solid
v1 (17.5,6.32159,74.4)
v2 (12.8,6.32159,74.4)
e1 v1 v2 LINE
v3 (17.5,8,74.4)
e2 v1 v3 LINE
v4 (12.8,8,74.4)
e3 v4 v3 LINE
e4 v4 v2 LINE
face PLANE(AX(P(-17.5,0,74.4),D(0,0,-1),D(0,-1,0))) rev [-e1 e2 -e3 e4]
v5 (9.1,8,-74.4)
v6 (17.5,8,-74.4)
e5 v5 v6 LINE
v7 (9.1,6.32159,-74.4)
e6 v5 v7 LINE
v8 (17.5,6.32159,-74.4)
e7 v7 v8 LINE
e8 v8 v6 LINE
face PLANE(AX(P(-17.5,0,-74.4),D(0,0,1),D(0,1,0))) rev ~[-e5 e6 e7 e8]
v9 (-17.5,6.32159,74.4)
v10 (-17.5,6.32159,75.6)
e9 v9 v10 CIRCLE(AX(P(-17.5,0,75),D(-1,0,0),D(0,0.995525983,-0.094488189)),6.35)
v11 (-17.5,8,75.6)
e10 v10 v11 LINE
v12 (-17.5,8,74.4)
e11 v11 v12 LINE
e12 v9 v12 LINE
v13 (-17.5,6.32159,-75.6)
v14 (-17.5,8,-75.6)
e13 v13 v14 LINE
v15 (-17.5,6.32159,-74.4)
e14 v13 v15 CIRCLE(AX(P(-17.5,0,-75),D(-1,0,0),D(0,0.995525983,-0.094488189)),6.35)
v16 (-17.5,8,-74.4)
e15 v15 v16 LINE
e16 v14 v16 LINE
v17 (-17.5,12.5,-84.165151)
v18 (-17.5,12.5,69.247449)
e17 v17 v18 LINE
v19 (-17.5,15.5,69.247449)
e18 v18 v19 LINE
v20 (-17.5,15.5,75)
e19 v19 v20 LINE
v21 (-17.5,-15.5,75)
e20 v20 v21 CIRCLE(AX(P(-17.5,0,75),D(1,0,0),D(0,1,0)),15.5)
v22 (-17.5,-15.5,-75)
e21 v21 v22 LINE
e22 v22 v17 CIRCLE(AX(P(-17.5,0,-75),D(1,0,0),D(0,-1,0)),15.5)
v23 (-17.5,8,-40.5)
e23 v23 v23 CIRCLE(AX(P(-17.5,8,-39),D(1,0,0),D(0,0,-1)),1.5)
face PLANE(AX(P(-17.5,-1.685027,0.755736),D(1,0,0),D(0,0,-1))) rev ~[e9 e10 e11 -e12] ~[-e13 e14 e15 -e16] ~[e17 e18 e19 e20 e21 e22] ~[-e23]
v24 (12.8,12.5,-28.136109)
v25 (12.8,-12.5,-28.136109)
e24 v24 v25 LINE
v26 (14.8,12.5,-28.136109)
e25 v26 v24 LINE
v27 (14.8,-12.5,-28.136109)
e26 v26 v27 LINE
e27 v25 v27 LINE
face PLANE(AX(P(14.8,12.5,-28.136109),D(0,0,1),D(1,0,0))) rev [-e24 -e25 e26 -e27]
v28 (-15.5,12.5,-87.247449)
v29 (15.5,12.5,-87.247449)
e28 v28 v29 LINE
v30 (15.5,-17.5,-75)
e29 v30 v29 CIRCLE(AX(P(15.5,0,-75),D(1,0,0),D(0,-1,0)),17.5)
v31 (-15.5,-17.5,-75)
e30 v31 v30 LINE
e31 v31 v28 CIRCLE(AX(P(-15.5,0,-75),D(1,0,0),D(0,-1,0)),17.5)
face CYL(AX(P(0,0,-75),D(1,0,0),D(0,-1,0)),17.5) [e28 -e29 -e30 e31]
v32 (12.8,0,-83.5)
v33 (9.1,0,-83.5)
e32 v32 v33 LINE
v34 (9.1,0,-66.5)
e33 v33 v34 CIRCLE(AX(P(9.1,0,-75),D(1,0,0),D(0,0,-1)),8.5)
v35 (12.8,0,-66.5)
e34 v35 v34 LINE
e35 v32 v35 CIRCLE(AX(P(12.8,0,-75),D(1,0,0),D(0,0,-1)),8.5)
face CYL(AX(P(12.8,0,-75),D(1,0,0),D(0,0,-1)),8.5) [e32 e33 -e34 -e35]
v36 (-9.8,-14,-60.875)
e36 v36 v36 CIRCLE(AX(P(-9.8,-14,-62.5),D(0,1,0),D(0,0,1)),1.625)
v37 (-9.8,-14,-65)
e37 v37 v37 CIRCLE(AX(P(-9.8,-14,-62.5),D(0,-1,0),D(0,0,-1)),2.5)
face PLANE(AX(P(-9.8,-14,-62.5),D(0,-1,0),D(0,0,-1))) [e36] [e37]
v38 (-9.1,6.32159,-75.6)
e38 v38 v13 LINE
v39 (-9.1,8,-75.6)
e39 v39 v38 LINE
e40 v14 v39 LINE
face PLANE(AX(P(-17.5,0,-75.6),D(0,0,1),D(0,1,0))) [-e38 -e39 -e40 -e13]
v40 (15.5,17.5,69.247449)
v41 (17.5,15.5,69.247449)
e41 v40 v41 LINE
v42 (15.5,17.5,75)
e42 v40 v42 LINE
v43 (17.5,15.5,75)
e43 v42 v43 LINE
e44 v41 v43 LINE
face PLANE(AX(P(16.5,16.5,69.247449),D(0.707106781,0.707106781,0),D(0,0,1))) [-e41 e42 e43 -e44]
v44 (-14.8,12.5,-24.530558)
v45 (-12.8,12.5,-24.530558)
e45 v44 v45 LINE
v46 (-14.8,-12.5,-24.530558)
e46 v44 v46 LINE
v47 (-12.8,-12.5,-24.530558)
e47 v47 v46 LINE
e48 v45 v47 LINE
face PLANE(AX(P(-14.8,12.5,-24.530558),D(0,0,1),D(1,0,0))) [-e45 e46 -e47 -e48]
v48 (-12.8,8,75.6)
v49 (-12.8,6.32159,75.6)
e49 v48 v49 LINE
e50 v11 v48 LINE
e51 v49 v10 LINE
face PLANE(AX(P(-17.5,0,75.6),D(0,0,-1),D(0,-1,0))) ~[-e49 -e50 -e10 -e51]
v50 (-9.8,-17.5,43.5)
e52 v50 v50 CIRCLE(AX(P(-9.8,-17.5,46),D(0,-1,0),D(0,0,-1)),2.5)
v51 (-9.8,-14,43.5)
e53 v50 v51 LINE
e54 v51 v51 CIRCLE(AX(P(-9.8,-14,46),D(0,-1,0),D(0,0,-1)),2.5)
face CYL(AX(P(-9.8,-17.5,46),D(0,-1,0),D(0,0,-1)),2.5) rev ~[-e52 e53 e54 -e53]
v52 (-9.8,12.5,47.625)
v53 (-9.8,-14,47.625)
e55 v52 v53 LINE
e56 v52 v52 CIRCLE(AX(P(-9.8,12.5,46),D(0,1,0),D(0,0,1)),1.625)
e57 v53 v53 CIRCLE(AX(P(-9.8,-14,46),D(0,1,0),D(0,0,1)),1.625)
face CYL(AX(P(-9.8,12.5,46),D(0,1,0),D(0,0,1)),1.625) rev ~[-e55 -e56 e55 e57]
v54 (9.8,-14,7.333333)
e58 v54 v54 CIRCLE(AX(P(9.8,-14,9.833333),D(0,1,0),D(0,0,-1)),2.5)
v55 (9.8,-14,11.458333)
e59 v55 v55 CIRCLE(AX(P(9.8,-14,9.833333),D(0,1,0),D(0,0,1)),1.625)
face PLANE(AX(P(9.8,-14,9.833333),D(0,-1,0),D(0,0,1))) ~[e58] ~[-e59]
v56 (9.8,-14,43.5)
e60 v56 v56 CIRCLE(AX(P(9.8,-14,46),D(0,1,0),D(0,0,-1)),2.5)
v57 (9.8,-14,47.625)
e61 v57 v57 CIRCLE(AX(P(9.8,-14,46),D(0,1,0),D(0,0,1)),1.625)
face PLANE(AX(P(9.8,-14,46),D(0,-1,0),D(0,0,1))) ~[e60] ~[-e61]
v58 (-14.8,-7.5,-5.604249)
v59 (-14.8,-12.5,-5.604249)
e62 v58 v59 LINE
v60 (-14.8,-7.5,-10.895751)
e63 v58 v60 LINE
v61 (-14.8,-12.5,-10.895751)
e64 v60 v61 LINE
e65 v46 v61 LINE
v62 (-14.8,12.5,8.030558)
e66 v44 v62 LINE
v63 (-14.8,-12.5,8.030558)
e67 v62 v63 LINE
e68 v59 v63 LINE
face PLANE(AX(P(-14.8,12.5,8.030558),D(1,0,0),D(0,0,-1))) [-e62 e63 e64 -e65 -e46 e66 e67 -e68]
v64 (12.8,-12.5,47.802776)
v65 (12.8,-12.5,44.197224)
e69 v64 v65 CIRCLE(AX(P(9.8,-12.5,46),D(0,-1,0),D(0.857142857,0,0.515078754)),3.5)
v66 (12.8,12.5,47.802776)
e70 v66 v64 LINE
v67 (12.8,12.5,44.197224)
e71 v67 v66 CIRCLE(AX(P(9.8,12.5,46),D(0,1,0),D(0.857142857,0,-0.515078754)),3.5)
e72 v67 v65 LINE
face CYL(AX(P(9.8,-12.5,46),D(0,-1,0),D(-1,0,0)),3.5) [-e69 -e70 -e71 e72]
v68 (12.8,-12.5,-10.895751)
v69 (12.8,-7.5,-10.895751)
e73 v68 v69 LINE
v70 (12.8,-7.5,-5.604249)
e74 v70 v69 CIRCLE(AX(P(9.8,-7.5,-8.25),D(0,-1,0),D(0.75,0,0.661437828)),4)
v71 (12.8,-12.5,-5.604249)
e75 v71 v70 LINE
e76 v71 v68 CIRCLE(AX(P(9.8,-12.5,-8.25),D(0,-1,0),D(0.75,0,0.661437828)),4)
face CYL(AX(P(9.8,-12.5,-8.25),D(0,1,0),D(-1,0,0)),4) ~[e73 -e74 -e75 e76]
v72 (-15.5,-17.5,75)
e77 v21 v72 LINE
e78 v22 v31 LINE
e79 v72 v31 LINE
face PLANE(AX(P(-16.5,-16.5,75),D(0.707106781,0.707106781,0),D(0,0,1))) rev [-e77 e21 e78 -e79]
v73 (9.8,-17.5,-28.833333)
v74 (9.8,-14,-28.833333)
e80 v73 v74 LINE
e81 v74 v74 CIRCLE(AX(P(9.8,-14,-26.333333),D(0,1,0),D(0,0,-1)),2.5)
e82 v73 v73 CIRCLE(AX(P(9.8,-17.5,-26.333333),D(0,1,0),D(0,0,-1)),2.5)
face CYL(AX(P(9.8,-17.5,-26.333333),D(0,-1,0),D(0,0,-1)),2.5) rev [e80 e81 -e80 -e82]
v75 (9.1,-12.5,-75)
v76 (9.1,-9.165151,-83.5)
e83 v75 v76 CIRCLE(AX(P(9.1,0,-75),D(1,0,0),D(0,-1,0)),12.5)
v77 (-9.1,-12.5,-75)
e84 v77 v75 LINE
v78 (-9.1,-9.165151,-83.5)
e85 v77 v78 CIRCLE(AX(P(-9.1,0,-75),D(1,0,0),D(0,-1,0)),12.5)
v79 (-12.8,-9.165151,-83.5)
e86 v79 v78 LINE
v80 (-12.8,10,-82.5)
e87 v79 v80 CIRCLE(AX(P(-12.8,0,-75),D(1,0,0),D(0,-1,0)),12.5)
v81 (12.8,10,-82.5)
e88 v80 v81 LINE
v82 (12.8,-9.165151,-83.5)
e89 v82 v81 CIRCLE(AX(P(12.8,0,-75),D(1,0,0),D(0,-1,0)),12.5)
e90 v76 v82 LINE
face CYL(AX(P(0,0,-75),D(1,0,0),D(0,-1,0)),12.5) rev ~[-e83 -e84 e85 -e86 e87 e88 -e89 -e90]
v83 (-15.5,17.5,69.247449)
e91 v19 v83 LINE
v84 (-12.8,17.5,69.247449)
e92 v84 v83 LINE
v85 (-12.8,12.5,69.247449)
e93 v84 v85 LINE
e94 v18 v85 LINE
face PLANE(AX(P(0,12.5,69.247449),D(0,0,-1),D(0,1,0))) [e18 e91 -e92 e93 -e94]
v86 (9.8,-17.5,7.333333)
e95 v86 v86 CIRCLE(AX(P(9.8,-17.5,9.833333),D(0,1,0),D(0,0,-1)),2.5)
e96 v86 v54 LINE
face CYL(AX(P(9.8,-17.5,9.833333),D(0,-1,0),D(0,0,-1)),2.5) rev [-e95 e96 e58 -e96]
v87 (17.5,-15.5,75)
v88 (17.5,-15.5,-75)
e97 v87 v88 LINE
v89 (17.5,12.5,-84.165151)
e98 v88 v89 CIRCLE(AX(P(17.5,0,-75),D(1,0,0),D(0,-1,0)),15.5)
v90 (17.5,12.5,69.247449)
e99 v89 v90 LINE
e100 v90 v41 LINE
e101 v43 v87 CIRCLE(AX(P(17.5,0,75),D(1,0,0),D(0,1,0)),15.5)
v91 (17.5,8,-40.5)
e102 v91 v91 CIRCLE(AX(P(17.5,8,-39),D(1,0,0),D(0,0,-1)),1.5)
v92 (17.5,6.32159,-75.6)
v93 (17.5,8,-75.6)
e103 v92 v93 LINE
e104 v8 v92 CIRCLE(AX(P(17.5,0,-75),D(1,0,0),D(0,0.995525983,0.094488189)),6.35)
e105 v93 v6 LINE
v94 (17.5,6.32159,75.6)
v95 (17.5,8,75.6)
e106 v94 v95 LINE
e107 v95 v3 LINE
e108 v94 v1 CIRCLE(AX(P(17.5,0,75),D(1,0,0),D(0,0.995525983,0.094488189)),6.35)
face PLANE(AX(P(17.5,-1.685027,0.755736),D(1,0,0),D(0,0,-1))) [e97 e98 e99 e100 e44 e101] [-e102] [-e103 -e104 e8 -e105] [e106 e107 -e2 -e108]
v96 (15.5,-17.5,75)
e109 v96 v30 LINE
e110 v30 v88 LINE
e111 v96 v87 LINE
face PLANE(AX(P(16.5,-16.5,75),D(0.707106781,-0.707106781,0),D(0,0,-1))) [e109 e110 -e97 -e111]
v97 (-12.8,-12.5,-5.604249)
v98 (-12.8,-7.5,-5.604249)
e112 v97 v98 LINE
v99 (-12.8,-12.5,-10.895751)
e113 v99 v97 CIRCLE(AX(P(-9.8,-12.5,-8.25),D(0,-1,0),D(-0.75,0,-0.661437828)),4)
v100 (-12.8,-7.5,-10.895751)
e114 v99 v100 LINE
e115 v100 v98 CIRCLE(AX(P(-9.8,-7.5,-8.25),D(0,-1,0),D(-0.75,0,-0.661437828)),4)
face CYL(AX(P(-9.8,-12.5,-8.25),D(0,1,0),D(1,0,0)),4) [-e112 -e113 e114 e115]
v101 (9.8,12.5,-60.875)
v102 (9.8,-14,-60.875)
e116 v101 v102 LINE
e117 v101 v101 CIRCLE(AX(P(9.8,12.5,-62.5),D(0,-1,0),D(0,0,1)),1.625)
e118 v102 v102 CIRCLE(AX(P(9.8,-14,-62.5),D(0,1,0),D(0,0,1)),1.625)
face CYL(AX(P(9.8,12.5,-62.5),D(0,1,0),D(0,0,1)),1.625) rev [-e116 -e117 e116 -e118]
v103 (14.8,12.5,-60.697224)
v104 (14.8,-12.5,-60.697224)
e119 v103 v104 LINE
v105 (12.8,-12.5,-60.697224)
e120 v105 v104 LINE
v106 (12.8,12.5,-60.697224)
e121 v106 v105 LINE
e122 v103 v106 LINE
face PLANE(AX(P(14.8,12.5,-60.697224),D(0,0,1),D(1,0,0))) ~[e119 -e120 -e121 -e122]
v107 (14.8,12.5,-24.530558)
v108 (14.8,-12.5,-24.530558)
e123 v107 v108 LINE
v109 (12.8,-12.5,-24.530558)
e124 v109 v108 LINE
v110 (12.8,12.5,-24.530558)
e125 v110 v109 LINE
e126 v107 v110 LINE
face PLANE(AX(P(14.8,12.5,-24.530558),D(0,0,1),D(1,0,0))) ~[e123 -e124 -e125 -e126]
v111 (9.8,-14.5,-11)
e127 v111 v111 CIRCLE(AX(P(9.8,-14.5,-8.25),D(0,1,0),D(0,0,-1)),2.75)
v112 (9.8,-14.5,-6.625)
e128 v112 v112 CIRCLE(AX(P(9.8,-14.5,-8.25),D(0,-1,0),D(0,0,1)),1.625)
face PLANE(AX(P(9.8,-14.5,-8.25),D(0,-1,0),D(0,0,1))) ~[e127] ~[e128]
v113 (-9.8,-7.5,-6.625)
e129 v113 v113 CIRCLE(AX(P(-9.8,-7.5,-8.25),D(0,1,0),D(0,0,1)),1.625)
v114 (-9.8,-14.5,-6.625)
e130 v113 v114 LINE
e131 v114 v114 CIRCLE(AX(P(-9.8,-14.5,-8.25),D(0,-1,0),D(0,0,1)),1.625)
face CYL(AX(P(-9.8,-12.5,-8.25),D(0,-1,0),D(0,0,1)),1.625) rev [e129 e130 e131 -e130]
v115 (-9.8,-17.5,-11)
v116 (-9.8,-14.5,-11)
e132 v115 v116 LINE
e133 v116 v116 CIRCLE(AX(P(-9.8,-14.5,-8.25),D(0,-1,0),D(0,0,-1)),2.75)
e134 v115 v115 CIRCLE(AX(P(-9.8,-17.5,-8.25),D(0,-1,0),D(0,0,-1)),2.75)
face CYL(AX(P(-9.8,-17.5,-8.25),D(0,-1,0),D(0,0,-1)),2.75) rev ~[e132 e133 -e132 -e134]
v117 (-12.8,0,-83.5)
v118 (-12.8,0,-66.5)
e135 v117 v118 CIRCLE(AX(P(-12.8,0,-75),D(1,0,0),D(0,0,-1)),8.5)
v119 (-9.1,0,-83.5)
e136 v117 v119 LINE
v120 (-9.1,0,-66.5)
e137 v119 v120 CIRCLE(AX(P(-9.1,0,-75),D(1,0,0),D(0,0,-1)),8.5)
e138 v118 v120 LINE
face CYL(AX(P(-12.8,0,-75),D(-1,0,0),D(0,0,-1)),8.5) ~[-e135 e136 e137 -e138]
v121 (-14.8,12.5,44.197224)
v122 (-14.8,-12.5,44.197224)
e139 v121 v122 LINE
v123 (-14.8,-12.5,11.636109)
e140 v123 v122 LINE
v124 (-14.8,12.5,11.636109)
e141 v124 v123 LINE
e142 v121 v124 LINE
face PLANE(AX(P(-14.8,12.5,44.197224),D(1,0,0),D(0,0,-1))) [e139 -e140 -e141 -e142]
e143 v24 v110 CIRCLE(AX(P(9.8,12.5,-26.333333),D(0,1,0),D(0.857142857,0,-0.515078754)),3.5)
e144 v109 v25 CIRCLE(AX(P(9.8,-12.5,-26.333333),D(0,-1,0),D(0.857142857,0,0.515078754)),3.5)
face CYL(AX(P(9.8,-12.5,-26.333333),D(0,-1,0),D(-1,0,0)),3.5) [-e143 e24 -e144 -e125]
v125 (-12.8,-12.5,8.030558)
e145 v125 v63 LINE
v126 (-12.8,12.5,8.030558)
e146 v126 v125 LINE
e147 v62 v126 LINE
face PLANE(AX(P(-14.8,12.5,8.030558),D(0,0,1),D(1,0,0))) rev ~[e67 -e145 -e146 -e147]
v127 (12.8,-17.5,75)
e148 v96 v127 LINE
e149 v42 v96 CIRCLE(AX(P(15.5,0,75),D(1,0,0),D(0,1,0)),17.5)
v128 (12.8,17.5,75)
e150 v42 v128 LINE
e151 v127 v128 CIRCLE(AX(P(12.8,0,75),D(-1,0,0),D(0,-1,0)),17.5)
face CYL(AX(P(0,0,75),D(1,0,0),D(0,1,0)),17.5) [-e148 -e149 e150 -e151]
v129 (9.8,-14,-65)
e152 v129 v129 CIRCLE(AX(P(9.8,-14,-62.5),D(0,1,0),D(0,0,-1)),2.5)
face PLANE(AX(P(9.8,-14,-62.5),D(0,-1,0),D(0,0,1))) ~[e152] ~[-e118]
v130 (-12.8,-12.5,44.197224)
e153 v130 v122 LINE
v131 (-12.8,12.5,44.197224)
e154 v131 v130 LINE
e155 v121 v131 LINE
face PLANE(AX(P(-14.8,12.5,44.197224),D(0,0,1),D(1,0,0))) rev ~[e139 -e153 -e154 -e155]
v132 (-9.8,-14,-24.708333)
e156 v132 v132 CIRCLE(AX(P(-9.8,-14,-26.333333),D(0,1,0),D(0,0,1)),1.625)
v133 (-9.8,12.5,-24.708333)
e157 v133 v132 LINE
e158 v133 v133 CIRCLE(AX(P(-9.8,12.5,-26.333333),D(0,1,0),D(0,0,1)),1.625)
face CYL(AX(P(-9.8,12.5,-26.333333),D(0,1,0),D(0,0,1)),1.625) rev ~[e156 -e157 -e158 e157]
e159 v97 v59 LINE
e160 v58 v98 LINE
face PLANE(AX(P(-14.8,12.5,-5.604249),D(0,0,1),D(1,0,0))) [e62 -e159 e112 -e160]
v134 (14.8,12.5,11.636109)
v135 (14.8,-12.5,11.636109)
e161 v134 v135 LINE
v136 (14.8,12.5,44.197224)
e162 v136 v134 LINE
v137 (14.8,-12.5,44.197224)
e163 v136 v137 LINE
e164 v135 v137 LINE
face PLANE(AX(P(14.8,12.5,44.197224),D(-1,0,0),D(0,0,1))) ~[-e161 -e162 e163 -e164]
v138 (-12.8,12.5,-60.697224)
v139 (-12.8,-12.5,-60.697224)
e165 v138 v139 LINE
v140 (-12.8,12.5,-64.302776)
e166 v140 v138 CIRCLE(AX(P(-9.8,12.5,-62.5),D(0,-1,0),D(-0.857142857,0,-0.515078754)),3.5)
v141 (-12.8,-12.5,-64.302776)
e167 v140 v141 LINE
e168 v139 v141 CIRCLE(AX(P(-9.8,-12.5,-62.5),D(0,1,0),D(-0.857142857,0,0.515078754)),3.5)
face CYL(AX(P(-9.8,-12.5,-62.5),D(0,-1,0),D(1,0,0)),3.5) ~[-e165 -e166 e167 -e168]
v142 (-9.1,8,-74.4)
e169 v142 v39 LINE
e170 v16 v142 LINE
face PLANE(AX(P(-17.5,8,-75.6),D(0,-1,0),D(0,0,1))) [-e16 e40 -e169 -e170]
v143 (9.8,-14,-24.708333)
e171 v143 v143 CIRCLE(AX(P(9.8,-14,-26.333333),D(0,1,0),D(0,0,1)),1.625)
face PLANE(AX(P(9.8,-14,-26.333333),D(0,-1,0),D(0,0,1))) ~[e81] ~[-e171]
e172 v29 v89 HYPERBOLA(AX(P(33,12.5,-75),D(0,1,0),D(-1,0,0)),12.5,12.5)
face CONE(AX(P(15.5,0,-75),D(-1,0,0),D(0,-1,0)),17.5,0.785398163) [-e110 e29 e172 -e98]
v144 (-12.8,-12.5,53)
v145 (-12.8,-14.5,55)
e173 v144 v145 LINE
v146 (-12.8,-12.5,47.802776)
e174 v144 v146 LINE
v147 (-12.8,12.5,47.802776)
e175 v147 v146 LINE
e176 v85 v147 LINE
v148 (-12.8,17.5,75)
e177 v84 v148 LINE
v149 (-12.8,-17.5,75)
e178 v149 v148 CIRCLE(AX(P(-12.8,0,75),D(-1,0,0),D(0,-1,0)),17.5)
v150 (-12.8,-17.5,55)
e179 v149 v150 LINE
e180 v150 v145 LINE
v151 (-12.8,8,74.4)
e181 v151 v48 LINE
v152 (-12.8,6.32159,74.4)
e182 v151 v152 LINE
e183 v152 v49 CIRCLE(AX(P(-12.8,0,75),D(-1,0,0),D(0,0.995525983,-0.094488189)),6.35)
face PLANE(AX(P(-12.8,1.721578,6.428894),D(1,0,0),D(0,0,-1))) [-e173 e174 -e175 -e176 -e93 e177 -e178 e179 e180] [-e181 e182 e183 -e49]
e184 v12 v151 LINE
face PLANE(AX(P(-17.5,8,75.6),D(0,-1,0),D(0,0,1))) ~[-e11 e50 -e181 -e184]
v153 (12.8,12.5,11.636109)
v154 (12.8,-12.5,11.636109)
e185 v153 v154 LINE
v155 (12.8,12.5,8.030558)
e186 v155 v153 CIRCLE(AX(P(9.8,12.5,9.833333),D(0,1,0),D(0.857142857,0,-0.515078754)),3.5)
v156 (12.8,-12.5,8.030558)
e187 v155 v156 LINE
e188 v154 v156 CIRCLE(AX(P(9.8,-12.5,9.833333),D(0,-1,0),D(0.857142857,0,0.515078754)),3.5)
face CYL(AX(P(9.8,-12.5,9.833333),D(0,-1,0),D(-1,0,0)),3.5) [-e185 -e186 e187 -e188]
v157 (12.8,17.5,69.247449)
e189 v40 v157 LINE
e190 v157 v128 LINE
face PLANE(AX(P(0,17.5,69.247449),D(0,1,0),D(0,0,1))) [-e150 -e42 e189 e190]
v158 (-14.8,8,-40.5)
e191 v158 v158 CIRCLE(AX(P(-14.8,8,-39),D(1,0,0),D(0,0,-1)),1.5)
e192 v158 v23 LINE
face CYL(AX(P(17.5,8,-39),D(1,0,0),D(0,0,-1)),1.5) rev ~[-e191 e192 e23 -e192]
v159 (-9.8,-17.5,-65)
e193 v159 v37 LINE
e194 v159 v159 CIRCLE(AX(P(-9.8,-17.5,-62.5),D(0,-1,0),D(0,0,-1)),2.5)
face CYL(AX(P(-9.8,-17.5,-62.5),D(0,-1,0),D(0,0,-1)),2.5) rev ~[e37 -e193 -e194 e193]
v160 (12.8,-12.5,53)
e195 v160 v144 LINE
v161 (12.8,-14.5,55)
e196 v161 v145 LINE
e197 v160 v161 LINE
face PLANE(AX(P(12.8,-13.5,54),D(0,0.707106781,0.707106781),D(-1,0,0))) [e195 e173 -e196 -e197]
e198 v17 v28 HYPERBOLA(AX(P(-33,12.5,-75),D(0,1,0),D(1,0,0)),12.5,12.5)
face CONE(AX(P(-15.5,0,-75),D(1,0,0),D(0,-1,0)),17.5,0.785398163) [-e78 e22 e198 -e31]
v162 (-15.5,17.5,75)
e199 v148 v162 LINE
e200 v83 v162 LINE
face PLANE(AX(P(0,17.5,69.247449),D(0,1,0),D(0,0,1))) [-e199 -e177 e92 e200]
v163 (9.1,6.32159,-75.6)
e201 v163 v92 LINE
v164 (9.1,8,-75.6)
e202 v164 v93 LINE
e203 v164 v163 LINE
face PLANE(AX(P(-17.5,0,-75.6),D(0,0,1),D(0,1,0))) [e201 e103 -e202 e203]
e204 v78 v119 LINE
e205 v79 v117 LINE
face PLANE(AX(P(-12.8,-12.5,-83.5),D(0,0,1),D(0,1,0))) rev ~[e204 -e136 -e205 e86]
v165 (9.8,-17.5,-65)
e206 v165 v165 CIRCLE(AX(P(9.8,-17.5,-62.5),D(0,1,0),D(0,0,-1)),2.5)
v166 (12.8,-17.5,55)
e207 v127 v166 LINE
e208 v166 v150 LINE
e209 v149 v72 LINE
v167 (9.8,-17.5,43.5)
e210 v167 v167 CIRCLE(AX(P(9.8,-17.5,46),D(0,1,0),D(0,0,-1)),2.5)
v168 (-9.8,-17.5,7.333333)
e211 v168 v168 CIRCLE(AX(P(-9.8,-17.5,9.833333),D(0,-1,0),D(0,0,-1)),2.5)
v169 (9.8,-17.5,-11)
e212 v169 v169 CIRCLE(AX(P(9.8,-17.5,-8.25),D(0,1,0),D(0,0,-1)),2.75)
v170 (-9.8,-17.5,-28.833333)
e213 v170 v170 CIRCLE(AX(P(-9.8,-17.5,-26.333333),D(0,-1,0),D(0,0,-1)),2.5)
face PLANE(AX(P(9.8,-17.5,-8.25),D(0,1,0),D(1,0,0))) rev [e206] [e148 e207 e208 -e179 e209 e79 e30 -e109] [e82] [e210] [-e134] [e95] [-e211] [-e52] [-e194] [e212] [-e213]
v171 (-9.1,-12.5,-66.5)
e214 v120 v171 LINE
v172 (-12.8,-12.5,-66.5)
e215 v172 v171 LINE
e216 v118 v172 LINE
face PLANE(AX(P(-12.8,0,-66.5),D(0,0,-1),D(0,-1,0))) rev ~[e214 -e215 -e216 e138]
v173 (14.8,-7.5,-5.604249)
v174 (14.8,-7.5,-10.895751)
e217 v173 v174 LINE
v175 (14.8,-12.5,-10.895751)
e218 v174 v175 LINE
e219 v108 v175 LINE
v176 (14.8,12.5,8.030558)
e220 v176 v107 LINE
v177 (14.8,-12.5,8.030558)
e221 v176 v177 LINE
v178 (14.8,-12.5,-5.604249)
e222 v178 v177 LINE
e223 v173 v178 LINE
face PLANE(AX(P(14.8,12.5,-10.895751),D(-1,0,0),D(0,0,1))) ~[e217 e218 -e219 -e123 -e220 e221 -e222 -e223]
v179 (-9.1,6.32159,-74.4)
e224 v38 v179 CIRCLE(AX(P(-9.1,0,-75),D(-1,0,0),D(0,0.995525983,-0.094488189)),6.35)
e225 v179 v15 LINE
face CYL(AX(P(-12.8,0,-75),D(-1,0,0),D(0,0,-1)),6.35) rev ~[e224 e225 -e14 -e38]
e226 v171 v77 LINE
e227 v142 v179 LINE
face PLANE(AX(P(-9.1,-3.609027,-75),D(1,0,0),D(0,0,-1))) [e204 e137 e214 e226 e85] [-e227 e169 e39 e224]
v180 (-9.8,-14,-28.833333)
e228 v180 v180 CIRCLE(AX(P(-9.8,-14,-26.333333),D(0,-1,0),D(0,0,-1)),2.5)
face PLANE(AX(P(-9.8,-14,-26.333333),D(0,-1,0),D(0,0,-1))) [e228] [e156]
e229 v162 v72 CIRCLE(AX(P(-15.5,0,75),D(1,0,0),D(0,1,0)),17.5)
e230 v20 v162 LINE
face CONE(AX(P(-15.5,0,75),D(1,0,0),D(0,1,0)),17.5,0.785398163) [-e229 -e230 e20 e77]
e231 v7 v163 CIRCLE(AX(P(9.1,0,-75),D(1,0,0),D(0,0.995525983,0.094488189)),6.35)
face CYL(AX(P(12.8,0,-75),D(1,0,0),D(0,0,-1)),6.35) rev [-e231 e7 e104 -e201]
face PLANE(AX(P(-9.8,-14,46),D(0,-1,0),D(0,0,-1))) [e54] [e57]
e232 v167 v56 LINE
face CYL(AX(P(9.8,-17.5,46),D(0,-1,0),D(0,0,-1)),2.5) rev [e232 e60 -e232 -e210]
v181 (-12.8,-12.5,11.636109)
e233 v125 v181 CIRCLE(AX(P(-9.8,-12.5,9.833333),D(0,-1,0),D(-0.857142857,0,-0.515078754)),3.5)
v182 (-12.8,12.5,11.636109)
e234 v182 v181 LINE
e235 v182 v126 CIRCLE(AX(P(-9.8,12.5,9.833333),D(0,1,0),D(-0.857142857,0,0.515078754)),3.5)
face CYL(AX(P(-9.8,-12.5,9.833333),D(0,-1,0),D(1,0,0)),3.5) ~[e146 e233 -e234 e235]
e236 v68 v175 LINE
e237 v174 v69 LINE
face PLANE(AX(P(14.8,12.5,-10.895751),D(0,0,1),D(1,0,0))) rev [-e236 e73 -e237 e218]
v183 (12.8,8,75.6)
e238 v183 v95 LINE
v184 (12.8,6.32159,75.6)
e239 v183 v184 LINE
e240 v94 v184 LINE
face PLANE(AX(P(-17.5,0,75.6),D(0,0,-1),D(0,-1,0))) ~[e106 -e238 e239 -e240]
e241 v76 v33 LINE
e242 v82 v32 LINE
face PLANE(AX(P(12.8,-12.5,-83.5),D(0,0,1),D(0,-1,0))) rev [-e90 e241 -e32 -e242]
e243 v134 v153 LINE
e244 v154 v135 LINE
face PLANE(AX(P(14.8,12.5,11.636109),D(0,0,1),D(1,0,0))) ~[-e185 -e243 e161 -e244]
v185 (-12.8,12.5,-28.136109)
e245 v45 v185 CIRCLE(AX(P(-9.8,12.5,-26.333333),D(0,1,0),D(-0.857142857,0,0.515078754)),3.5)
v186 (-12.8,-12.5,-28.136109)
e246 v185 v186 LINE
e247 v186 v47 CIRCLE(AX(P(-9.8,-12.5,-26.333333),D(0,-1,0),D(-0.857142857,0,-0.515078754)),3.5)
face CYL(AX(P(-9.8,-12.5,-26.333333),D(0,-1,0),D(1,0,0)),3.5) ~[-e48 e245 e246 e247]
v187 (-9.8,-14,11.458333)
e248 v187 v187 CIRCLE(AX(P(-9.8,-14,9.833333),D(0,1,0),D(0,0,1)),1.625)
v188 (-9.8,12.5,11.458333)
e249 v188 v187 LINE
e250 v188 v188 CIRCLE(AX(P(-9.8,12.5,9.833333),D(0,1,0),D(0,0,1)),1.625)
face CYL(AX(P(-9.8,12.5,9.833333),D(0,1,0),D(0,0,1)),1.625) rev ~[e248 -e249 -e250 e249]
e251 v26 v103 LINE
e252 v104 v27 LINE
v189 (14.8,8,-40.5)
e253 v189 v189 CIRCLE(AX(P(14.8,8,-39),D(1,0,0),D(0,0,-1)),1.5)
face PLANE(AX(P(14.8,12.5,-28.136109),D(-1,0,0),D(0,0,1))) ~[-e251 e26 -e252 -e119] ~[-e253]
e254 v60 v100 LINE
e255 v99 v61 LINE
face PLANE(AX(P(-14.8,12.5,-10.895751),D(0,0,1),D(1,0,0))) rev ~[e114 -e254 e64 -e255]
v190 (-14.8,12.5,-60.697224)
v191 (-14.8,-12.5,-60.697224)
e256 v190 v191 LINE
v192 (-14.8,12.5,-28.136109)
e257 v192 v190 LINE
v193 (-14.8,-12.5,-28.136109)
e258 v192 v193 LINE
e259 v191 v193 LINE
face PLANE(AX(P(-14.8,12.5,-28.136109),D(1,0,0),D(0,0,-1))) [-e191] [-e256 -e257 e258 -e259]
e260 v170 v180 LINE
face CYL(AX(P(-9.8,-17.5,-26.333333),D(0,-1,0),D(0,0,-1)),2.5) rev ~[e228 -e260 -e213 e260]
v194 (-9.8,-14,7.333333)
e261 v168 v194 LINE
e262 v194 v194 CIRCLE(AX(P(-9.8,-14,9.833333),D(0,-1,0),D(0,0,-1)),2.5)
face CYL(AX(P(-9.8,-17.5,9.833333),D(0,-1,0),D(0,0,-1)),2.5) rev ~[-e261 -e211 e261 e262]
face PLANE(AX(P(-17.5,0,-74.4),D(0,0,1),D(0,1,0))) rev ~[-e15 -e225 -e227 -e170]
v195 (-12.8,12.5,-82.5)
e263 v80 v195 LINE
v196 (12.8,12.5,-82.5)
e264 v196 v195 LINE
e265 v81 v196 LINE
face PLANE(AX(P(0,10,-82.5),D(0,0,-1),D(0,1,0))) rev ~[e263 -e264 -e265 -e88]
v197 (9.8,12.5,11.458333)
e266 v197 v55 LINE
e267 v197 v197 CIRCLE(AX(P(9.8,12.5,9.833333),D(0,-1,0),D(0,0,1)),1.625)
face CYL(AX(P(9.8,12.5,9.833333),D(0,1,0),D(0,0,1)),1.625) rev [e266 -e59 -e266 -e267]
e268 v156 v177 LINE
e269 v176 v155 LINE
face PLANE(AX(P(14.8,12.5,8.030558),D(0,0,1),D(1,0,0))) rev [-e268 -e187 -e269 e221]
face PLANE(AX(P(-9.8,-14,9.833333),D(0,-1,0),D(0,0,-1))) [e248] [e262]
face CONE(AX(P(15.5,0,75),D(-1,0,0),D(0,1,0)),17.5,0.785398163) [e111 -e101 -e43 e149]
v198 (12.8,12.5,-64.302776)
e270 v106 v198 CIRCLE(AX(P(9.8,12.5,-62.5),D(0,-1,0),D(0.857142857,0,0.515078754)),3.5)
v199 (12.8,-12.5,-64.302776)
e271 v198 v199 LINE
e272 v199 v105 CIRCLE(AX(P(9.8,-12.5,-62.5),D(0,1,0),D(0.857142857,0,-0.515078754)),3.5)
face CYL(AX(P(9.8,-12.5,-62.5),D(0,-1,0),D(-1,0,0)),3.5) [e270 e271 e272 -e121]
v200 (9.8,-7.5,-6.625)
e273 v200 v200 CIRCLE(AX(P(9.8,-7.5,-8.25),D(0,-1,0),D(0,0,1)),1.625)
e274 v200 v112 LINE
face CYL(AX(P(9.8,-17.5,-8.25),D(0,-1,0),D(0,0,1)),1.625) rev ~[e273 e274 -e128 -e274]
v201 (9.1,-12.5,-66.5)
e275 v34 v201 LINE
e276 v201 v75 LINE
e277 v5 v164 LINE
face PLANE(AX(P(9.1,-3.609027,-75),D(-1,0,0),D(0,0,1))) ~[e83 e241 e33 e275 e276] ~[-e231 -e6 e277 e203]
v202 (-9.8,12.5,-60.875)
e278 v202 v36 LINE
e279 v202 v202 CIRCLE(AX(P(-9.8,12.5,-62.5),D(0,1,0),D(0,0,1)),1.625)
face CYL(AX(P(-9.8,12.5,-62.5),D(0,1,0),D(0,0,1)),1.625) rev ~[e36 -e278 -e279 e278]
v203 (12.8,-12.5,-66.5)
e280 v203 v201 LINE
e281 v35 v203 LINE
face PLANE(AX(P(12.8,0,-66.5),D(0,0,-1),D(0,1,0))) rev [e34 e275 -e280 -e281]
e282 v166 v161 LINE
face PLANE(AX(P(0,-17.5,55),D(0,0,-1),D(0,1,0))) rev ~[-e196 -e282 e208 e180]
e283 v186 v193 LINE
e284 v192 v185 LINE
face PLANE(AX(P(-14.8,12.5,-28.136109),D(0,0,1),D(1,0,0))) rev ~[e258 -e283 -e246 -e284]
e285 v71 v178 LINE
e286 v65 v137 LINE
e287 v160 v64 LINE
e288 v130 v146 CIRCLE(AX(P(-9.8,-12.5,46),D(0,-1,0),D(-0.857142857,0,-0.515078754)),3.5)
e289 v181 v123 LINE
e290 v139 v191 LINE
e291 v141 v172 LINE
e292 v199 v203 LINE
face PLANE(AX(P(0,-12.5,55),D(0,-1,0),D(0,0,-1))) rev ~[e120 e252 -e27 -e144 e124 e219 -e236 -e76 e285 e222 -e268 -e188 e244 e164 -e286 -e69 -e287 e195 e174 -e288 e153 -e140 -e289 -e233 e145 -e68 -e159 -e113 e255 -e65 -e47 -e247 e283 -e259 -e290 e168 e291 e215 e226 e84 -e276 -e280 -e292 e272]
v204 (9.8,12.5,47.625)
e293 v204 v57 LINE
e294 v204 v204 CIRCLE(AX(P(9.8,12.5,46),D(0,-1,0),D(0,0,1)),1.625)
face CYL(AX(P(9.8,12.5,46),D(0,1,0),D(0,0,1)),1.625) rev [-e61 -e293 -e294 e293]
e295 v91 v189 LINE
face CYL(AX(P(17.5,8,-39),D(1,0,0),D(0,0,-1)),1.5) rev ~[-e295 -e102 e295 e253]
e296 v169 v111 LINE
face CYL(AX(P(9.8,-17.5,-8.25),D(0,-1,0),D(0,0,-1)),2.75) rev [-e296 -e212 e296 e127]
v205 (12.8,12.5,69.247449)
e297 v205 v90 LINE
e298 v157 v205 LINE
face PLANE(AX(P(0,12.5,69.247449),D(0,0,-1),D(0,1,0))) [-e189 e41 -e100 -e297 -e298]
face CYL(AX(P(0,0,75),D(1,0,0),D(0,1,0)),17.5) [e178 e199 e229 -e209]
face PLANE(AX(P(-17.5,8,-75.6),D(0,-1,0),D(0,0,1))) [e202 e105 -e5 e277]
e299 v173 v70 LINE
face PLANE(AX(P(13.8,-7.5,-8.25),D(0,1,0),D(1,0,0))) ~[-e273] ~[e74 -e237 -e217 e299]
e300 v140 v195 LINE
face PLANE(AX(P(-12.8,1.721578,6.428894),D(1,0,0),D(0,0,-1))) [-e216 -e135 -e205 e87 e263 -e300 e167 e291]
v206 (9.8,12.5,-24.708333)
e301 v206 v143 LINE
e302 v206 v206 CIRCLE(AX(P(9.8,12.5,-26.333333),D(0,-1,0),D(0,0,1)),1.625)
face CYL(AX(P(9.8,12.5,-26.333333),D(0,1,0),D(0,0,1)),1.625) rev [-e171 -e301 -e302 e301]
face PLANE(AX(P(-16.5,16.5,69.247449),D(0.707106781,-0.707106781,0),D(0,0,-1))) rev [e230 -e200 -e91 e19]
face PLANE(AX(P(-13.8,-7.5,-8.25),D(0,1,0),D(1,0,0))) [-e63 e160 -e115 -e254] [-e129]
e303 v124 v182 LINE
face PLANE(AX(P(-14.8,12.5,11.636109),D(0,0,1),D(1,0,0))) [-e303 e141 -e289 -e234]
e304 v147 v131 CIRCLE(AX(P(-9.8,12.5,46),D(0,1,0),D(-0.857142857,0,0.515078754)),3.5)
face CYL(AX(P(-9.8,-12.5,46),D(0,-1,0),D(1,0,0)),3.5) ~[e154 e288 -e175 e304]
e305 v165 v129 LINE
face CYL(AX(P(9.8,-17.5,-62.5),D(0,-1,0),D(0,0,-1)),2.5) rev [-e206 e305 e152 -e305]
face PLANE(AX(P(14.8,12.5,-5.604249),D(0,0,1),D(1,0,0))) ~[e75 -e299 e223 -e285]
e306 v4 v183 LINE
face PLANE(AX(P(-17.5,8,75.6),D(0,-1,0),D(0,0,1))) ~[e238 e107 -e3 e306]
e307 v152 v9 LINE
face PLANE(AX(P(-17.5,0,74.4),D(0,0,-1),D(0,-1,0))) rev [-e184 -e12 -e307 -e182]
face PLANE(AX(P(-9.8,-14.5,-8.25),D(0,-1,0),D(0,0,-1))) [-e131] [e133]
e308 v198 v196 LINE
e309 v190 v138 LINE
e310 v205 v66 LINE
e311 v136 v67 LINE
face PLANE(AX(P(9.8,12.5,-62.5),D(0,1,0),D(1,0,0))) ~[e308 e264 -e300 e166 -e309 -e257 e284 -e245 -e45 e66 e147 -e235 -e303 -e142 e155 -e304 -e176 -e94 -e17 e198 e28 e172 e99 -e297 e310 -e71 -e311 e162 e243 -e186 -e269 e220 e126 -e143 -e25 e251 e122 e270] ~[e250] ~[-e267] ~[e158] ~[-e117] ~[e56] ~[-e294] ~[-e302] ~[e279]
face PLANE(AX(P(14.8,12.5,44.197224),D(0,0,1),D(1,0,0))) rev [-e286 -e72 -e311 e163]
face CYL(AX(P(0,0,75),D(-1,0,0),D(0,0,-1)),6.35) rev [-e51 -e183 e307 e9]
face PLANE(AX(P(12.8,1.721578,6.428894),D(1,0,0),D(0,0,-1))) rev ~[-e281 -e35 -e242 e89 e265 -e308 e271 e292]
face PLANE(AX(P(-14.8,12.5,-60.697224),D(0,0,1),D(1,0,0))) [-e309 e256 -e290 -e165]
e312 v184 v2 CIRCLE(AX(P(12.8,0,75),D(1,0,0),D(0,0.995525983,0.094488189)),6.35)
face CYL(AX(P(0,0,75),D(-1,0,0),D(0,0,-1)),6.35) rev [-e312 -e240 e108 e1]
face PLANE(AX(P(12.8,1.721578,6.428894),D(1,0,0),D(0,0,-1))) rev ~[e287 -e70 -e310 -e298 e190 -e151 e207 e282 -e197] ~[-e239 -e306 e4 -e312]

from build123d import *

# Parameters (mm, degrees)
SKETCH1_R           = 6.35
BOSS_EXTRUDE1_DEPTH = 17.5
CUT_EXTRUDE1_DEPTH  = 12.8
CHAMFER1_SIZE       = 2
SKETCH4_R           = 3.5
BOSS_EXTRUDE2_DEPTH = 25
SKETCH8_R           = 1.625
CUT_EXTRUDE4_DEPTH  = 30
SKETCH7_R           = 2.5
CUT_EXTRUDE3_DEPTH  = 3.5
SKETCH9_R           = 4
SKETCH9_R_2         = 1.625
BOSS_EXTRUDE3_DEPTH = 5
SKETCH11_R          = 2.75
CUT_EXTRUDE5_DEPTH  = 3
SKETCH12_R          = 1.625
CUT_EXTRUDE6_DEPTH  = 101.436547133
BOSS_EXTRUDE4_DEPTH = 3.7
SKETCH14_R          = 6.35
CUT_EXTRUDE7_DEPTH  = 3.7
CUT_EXTRUDE8_REACH  = 100.805
SKETCH15_W          = 2
SKETCH15_H          = 32.561115391
SKETCH15_H_2        = 13.634806385
SKETCH16_W          = 2
SKETCH16_H          = 5.291502622
CUT_EXTRUDE9_DEPTH  = 20
CUT_EXTRUDE10_REACH = 102.437
SKETCH17_R          = 1.5
CUT_EXTRUDE11_REACH = 102.437
SKETCH18_W          = 1.2
SKETCH18_H          = 8


with BuildPart() as part:
    # Sketch1 → Boss-Extrude1 (new, symmetric)
    with BuildSketch(Plane(origin=(0, 0, 0), x_dir=(0, 0, -1), z_dir=(1, 0, 0))):
        with BuildLine():
            Line((-75, -17.5), (75, -17.5))
            ThreePointArc((75, -17.5), (91.201851746, -6.614378278), (87.247448714, 12.5))
            Line((87.247448714, 12.5), (-69.247448714, 12.5))
            Line((-69.247448714, 12.5), (-69.247448714, 17.5))
            Line((-69.247448714, 17.5), (-75, 17.5))
            ThreePointArc((-75, 17.5), (-92.5, 0), (-75, -17.5))
        make_face()
        with Locations((-75, 0)):
            Circle(SKETCH1_R, mode=Mode.SUBTRACT)
        with Locations((75, 0)):
            Circle(SKETCH1_R, mode=Mode.SUBTRACT)
    extrude(amount=BOSS_EXTRUDE1_DEPTH, both=True)

    # Sketch3 → Cut-Extrude1 (cut, symmetric)
    with BuildSketch(Plane(origin=(0, 0, 0), x_dir=(0, 0, -1), z_dir=(1, 0, 0))):
        with BuildLine():
            Line((-55, -12.5), (75, -12.5))
            ThreePointArc((75, -12.5), (86.858541226, -3.952847075), (82.5, 10))
            Line((82.5, 10), (82.5, 17.5))
            Line((82.5, 17.5), (-92.5, 17.5))
            Line((-92.5, 17.5), (-92.5, -17.5))
            Line((-92.5, -17.5), (-55, -17.5))
            Line((-55, -17.5), (-55, -12.5))
        make_face()
    extrude(amount=CUT_EXTRUDE1_DEPTH, both=True, mode=Mode.SUBTRACT)

    # Chamfer1
    chamfer1_edges = [part.edges().sort_by_distance(p)[0] for p in [
        (17.5, -6.614378278, -91.201851746),
        (17.5, 17.5, 72.123724357),
        (0, -12.5, 55),
        (17.5, 0, 92.5),
        (-17.5, 17.5, 72.123724357),
        (-17.5, -6.614378278, -91.201851746),
        (-17.5, -17.5, 0),
        (-17.5, 0, 92.5),
        (17.5, -17.5, 0),
    ]]
    chamfer(chamfer1_edges, length=CHAMFER1_SIZE)

    # Sketch4 → Boss-Extrude2 (add)
    with BuildSketch(Plane(origin=(0, -12.5, 0), x_dir=(1, 0, 0), z_dir=(0, 1, 0))):
        with Locations((-9.8, 62.5)):
            Circle(SKETCH4_R)
        with Locations((-9.8, 26.333333333)):
            Circle(SKETCH4_R)
        with Locations((-9.8, -9.833333333)):
            Circle(SKETCH4_R)
        with Locations((-9.8, -46)):
            Circle(SKETCH4_R)
    boss_extrude2 = extrude(amount=BOSS_EXTRUDE2_DEPTH)

    # Sketch8 → Cut-Extrude4 (cut)
    with BuildSketch(Plane(origin=(0, 12.5, 0), x_dir=(1, 0, 0), z_dir=(0, 1, 0))):
        with Locations(Location((-9.8, 62.5, 0), (0, 0, 270))):
            Circle(SKETCH8_R)
        with Locations(Location((-9.8, 26.333333333, 0), (0, 0, 270))):
            Circle(SKETCH8_R)
        with Locations(Location((-9.8, -9.833333333, 0), (0, 0, 270))):
            Circle(SKETCH8_R)
        with Locations(Location((-9.8, -46, 0), (0, 0, 270))):
            Circle(SKETCH8_R)
    cut_extrude4 = extrude(amount=-CUT_EXTRUDE4_DEPTH, mode=Mode.SUBTRACT)

    # Sketch7 → Cut-Extrude3 (cut)
    with BuildSketch(Plane.XZ.offset(17.5)):
        with Locations(Location((-9.8, 46, 0), (0, 0, 270))):
            Circle(SKETCH7_R)
        with Locations(Location((-9.8, 9.833333333, 0), (0, 0, 270))):
            Circle(SKETCH7_R)
        with Locations(Location((-9.8, -26.333333333, 0), (0, 0, 270))):
            Circle(SKETCH7_R)
        with Locations(Location((-9.8, -62.5, 0), (0, 0, 270))):
            Circle(SKETCH7_R)
    cut_extrude3 = extrude(amount=-CUT_EXTRUDE3_DEPTH, mode=Mode.SUBTRACT)

    # Sketch9 → Boss-Extrude3 (add, symmetric)
    with BuildSketch(Plane(origin=(0, -12.5, 0), x_dir=(1, 0, 0), z_dir=(0, 1, 0))):
        with Locations((-9.8, 8.25)):
            Circle(SKETCH9_R)
        with Locations(Location((-9.8, 8.25, 0), (0, 0, 270))):
            Circle(SKETCH9_R_2, mode=Mode.SUBTRACT)
    boss_extrude3 = extrude(amount=BOSS_EXTRUDE3_DEPTH, both=True)

    # Sketch11 → Cut-Extrude5 (cut)
    with BuildSketch(Plane.XZ.offset(17.5)):
        with Locations(Location((-9.8, -8.25, 0), (0, 0, 270))):
            Circle(SKETCH11_R)
    cut_extrude5 = extrude(amount=-CUT_EXTRUDE5_DEPTH, mode=Mode.SUBTRACT)

    # Mirror1: Boss-Extrude2, Cut-Extrude4, Cut-Extrude3, Boss-Extrude3, Cut-Extrude5 across plane
    add(boss_extrude2.mirror(Plane(origin=(0, 0, 0), x_dir=(0, 0, 1), z_dir=(1, 0, 0))))
    add(cut_extrude4.mirror(Plane(origin=(0, 0, 0), x_dir=(0, 0, 1), z_dir=(1, 0, 0))), mode=Mode.SUBTRACT)
    add(cut_extrude3.mirror(Plane(origin=(0, 0, 0), x_dir=(0, 0, 1), z_dir=(1, 0, 0))), mode=Mode.SUBTRACT)
    add(boss_extrude3.mirror(Plane(origin=(0, 0, 0), x_dir=(0, 0, 1), z_dir=(1, 0, 0))))
    add(cut_extrude5.mirror(Plane(origin=(0, 0, 0), x_dir=(0, 0, 1), z_dir=(1, 0, 0))), mode=Mode.SUBTRACT)

    # Sketch12 → Cut-Extrude6 (cut, symmetric)
    with BuildSketch(Plane.XZ.offset(17.5)):
        with Locations(Location((9.8, -8.25, 0), (0, 0, 90))):
            Circle(SKETCH12_R)
    cut_extrude6 = extrude(amount=CUT_EXTRUDE6_DEPTH, both=True, mode=Mode.SUBTRACT)

    # Sketch13 → Boss-Extrude4 (add)
    with BuildSketch(Plane(origin=(-12.8, 0, 0), x_dir=(0, 0, -1), z_dir=(1, 0, 0))):
        with BuildLine():
            Line((66.5, 0), (66.5, -12.5))
            Line((66.5, -12.5), (83.5, -12.5))
            Line((83.5, -12.5), (83.5, 0))
            ThreePointArc((83.5, 0), (75, 8.5), (66.5, 0))
        make_face()
    boss_extrude4 = extrude(amount=BOSS_EXTRUDE4_DEPTH)

    # Sketch14 → Cut-Extrude7 (cut)
    with BuildSketch(Plane.ZY.offset(12.8)):
        with Locations(Location((-75, 0, 0), (0, 0, 180))):
            Circle(SKETCH14_R)
    cut_extrude7 = extrude(amount=-CUT_EXTRUDE7_DEPTH, mode=Mode.SUBTRACT)

    # Cut-Extrude8: up to this face of the body (flat: up to its plane)
    cut_extrude8_end = Plane(part.part.faces().sort_by_distance((0.120666671, -12.5, -10.718703908))[0])
    # Sketch15 → Cut-Extrude8 (cut, up to the picked face)
    with BuildSketch(Plane(origin=(0, 12.5, 0), x_dir=(1, 0, 0), z_dir=(0, 1, 0)), mode=Mode.PRIVATE) as cut_extrude8_sk1:
        with Locations((-13.8, 44.416666667)):
            Rectangle(SKETCH15_W, SKETCH15_H)
    cut_extrude8_tool1 = split(extrude(cut_extrude8_sk1.sketch, amount=-CUT_EXTRUDE8_REACH, mode=Mode.PRIVATE), bisect_by=cut_extrude8_end, keep=Keep.BOTH, mode=Mode.PRIVATE)
    # Sketch15 → Cut-Extrude8 (cut, up to the picked face)
    with BuildSketch(Plane(origin=(0, 12.5, 0), x_dir=(1, 0, 0), z_dir=(0, 1, 0)), mode=Mode.PRIVATE) as cut_extrude8_sk2:
        with Locations((-13.8, 17.713154504)):
            Rectangle(SKETCH15_W, SKETCH15_H_2)
    cut_extrude8_tool2 = split(extrude(cut_extrude8_sk2.sketch, amount=-CUT_EXTRUDE8_REACH, mode=Mode.PRIVATE), bisect_by=cut_extrude8_end, keep=Keep.BOTH, mode=Mode.PRIVATE)
    # Sketch15 → Cut-Extrude8 (cut, up to the picked face)
    with BuildSketch(Plane(origin=(0, 12.5, 0), x_dir=(1, 0, 0), z_dir=(0, 1, 0)), mode=Mode.PRIVATE) as cut_extrude8_sk3:
        with Locations((-13.8, -1.213154504)):
            Rectangle(SKETCH15_W, SKETCH15_H_2)
    cut_extrude8_tool3 = split(extrude(cut_extrude8_sk3.sketch, amount=-CUT_EXTRUDE8_REACH, mode=Mode.PRIVATE), bisect_by=cut_extrude8_end, keep=Keep.BOTH, mode=Mode.PRIVATE)
    # Sketch15 → Cut-Extrude8 (cut, up to the picked face)
    with BuildSketch(Plane(origin=(0, 12.5, 0), x_dir=(1, 0, 0), z_dir=(0, 1, 0)), mode=Mode.PRIVATE) as cut_extrude8_sk4:
        with Locations((-13.8, -27.916666666)):
            Rectangle(SKETCH15_W, SKETCH15_H)
    cut_extrude8_tool4 = split(extrude(cut_extrude8_sk4.sketch, amount=-CUT_EXTRUDE8_REACH, mode=Mode.PRIVATE), bisect_by=cut_extrude8_end, keep=Keep.BOTH, mode=Mode.PRIVATE)
    cut_extrude8_1 = cut_extrude8_tool1.solids().sort_by(Axis((-13.8, 12.5, -44.416667), (0, -1, 0)))[0]
    add(cut_extrude8_1, mode=Mode.SUBTRACT)
    cut_extrude8_2 = cut_extrude8_tool2.solids().sort_by(Axis((-13.8, 12.5, -17.713155), (0, -1, 0)))[0]
    add(cut_extrude8_2, mode=Mode.SUBTRACT)
    cut_extrude8_3 = cut_extrude8_tool3.solids().sort_by(Axis((-13.8, 12.5, 1.213155), (0, -1, 0)))[0]
    add(cut_extrude8_3, mode=Mode.SUBTRACT)
    cut_extrude8_4 = cut_extrude8_tool4.solids().sort_by(Axis((-13.8, 12.5, 27.916667), (0, -1, 0)))[0]
    add(cut_extrude8_4, mode=Mode.SUBTRACT)
    cut_extrude8 = cut_extrude8_1 + cut_extrude8_2 + cut_extrude8_3 + cut_extrude8_4  # Cut-Extrude8 as one shape, for the pattern or mirror that repeats it

    # Sketch16 → Cut-Extrude9 (cut)
    with BuildSketch(Plane(origin=(0, 12.5, 0), x_dir=(1, 0, 0), z_dir=(0, 1, 0))):
        with Locations((-13.8, 8.25)):
            Rectangle(SKETCH16_W, SKETCH16_H)
    cut_extrude9 = extrude(amount=-CUT_EXTRUDE9_DEPTH, mode=Mode.SUBTRACT)

    # Mirror2: Cut-Extrude6, Boss-Extrude4, Cut-Extrude7, Cut-Extrude8, Cut-Extrude9 across plane
    add(cut_extrude6.mirror(Plane(origin=(0, 0, 0), x_dir=(0, 0, 1), z_dir=(1, 0, 0))), mode=Mode.SUBTRACT)
    add(boss_extrude4.mirror(Plane(origin=(0, 0, 0), x_dir=(0, 0, 1), z_dir=(1, 0, 0))))
    add(cut_extrude7.mirror(Plane(origin=(0, 0, 0), x_dir=(0, 0, 1), z_dir=(1, 0, 0))), mode=Mode.SUBTRACT)
    add(cut_extrude8.mirror(Plane(origin=(0, 0, 0), x_dir=(0, 0, 1), z_dir=(1, 0, 0))), mode=Mode.SUBTRACT)
    add(cut_extrude9.mirror(Plane(origin=(0, 0, 0), x_dir=(0, 0, 1), z_dir=(1, 0, 0))), mode=Mode.SUBTRACT)

    # Cut-Extrude10: up to this face of the body (flat: up to its plane)
    cut_extrude10_end = Plane(part.part.faces().sort_by_distance((-17.5, -1.343633732, 0.577395586))[0])
    # Sketch17 → Cut-Extrude10 (cut, up to the picked face)
    with BuildSketch(Plane(origin=(17.5, 0, 0), x_dir=(0, 0, -1), z_dir=(1, 0, 0)), mode=Mode.PRIVATE) as cut_extrude10_sk1:
        with Locations((39, 8)):
            Circle(SKETCH17_R)
    cut_extrude10_tool1 = split(extrude(cut_extrude10_sk1.sketch, amount=-CUT_EXTRUDE10_REACH, mode=Mode.PRIVATE), bisect_by=cut_extrude10_end, keep=Keep.BOTH, mode=Mode.PRIVATE)
    add(cut_extrude10_tool1.solids().sort_by(Axis((17.5, 8, -39), (-1, 0, 0)))[0], mode=Mode.SUBTRACT)

    # Cut-Extrude11: up to this face of the body (flat: up to its plane)
    cut_extrude11_end = Plane(part.part.faces().sort_by_distance((17.5, -1.35770743, 0.637008401))[0])
    # Sketch18 → Cut-Extrude11 (cut, up to the picked face)
    with BuildSketch(Plane.ZY.offset(17.5), mode=Mode.PRIVATE) as cut_extrude11_sk1:
        with Locations((-75, 4)):
            Rectangle(SKETCH18_W, SKETCH18_H)
    cut_extrude11_tool1 = split(extrude(cut_extrude11_sk1.sketch, amount=-CUT_EXTRUDE11_REACH, mode=Mode.PRIVATE), bisect_by=cut_extrude11_end, keep=Keep.BOTH, mode=Mode.PRIVATE)
    cut_extrude11 = cut_extrude11_tool1.solids().sort_by(Axis((-17.5, 4, -75), (1, 0, 0)))[0]
    add(cut_extrude11, mode=Mode.SUBTRACT)

    # Mirror3: Cut-Extrude11 across plane
    add(cut_extrude11.mirror(Plane.XY), mode=Mode.SUBTRACT)


solid = part.part
